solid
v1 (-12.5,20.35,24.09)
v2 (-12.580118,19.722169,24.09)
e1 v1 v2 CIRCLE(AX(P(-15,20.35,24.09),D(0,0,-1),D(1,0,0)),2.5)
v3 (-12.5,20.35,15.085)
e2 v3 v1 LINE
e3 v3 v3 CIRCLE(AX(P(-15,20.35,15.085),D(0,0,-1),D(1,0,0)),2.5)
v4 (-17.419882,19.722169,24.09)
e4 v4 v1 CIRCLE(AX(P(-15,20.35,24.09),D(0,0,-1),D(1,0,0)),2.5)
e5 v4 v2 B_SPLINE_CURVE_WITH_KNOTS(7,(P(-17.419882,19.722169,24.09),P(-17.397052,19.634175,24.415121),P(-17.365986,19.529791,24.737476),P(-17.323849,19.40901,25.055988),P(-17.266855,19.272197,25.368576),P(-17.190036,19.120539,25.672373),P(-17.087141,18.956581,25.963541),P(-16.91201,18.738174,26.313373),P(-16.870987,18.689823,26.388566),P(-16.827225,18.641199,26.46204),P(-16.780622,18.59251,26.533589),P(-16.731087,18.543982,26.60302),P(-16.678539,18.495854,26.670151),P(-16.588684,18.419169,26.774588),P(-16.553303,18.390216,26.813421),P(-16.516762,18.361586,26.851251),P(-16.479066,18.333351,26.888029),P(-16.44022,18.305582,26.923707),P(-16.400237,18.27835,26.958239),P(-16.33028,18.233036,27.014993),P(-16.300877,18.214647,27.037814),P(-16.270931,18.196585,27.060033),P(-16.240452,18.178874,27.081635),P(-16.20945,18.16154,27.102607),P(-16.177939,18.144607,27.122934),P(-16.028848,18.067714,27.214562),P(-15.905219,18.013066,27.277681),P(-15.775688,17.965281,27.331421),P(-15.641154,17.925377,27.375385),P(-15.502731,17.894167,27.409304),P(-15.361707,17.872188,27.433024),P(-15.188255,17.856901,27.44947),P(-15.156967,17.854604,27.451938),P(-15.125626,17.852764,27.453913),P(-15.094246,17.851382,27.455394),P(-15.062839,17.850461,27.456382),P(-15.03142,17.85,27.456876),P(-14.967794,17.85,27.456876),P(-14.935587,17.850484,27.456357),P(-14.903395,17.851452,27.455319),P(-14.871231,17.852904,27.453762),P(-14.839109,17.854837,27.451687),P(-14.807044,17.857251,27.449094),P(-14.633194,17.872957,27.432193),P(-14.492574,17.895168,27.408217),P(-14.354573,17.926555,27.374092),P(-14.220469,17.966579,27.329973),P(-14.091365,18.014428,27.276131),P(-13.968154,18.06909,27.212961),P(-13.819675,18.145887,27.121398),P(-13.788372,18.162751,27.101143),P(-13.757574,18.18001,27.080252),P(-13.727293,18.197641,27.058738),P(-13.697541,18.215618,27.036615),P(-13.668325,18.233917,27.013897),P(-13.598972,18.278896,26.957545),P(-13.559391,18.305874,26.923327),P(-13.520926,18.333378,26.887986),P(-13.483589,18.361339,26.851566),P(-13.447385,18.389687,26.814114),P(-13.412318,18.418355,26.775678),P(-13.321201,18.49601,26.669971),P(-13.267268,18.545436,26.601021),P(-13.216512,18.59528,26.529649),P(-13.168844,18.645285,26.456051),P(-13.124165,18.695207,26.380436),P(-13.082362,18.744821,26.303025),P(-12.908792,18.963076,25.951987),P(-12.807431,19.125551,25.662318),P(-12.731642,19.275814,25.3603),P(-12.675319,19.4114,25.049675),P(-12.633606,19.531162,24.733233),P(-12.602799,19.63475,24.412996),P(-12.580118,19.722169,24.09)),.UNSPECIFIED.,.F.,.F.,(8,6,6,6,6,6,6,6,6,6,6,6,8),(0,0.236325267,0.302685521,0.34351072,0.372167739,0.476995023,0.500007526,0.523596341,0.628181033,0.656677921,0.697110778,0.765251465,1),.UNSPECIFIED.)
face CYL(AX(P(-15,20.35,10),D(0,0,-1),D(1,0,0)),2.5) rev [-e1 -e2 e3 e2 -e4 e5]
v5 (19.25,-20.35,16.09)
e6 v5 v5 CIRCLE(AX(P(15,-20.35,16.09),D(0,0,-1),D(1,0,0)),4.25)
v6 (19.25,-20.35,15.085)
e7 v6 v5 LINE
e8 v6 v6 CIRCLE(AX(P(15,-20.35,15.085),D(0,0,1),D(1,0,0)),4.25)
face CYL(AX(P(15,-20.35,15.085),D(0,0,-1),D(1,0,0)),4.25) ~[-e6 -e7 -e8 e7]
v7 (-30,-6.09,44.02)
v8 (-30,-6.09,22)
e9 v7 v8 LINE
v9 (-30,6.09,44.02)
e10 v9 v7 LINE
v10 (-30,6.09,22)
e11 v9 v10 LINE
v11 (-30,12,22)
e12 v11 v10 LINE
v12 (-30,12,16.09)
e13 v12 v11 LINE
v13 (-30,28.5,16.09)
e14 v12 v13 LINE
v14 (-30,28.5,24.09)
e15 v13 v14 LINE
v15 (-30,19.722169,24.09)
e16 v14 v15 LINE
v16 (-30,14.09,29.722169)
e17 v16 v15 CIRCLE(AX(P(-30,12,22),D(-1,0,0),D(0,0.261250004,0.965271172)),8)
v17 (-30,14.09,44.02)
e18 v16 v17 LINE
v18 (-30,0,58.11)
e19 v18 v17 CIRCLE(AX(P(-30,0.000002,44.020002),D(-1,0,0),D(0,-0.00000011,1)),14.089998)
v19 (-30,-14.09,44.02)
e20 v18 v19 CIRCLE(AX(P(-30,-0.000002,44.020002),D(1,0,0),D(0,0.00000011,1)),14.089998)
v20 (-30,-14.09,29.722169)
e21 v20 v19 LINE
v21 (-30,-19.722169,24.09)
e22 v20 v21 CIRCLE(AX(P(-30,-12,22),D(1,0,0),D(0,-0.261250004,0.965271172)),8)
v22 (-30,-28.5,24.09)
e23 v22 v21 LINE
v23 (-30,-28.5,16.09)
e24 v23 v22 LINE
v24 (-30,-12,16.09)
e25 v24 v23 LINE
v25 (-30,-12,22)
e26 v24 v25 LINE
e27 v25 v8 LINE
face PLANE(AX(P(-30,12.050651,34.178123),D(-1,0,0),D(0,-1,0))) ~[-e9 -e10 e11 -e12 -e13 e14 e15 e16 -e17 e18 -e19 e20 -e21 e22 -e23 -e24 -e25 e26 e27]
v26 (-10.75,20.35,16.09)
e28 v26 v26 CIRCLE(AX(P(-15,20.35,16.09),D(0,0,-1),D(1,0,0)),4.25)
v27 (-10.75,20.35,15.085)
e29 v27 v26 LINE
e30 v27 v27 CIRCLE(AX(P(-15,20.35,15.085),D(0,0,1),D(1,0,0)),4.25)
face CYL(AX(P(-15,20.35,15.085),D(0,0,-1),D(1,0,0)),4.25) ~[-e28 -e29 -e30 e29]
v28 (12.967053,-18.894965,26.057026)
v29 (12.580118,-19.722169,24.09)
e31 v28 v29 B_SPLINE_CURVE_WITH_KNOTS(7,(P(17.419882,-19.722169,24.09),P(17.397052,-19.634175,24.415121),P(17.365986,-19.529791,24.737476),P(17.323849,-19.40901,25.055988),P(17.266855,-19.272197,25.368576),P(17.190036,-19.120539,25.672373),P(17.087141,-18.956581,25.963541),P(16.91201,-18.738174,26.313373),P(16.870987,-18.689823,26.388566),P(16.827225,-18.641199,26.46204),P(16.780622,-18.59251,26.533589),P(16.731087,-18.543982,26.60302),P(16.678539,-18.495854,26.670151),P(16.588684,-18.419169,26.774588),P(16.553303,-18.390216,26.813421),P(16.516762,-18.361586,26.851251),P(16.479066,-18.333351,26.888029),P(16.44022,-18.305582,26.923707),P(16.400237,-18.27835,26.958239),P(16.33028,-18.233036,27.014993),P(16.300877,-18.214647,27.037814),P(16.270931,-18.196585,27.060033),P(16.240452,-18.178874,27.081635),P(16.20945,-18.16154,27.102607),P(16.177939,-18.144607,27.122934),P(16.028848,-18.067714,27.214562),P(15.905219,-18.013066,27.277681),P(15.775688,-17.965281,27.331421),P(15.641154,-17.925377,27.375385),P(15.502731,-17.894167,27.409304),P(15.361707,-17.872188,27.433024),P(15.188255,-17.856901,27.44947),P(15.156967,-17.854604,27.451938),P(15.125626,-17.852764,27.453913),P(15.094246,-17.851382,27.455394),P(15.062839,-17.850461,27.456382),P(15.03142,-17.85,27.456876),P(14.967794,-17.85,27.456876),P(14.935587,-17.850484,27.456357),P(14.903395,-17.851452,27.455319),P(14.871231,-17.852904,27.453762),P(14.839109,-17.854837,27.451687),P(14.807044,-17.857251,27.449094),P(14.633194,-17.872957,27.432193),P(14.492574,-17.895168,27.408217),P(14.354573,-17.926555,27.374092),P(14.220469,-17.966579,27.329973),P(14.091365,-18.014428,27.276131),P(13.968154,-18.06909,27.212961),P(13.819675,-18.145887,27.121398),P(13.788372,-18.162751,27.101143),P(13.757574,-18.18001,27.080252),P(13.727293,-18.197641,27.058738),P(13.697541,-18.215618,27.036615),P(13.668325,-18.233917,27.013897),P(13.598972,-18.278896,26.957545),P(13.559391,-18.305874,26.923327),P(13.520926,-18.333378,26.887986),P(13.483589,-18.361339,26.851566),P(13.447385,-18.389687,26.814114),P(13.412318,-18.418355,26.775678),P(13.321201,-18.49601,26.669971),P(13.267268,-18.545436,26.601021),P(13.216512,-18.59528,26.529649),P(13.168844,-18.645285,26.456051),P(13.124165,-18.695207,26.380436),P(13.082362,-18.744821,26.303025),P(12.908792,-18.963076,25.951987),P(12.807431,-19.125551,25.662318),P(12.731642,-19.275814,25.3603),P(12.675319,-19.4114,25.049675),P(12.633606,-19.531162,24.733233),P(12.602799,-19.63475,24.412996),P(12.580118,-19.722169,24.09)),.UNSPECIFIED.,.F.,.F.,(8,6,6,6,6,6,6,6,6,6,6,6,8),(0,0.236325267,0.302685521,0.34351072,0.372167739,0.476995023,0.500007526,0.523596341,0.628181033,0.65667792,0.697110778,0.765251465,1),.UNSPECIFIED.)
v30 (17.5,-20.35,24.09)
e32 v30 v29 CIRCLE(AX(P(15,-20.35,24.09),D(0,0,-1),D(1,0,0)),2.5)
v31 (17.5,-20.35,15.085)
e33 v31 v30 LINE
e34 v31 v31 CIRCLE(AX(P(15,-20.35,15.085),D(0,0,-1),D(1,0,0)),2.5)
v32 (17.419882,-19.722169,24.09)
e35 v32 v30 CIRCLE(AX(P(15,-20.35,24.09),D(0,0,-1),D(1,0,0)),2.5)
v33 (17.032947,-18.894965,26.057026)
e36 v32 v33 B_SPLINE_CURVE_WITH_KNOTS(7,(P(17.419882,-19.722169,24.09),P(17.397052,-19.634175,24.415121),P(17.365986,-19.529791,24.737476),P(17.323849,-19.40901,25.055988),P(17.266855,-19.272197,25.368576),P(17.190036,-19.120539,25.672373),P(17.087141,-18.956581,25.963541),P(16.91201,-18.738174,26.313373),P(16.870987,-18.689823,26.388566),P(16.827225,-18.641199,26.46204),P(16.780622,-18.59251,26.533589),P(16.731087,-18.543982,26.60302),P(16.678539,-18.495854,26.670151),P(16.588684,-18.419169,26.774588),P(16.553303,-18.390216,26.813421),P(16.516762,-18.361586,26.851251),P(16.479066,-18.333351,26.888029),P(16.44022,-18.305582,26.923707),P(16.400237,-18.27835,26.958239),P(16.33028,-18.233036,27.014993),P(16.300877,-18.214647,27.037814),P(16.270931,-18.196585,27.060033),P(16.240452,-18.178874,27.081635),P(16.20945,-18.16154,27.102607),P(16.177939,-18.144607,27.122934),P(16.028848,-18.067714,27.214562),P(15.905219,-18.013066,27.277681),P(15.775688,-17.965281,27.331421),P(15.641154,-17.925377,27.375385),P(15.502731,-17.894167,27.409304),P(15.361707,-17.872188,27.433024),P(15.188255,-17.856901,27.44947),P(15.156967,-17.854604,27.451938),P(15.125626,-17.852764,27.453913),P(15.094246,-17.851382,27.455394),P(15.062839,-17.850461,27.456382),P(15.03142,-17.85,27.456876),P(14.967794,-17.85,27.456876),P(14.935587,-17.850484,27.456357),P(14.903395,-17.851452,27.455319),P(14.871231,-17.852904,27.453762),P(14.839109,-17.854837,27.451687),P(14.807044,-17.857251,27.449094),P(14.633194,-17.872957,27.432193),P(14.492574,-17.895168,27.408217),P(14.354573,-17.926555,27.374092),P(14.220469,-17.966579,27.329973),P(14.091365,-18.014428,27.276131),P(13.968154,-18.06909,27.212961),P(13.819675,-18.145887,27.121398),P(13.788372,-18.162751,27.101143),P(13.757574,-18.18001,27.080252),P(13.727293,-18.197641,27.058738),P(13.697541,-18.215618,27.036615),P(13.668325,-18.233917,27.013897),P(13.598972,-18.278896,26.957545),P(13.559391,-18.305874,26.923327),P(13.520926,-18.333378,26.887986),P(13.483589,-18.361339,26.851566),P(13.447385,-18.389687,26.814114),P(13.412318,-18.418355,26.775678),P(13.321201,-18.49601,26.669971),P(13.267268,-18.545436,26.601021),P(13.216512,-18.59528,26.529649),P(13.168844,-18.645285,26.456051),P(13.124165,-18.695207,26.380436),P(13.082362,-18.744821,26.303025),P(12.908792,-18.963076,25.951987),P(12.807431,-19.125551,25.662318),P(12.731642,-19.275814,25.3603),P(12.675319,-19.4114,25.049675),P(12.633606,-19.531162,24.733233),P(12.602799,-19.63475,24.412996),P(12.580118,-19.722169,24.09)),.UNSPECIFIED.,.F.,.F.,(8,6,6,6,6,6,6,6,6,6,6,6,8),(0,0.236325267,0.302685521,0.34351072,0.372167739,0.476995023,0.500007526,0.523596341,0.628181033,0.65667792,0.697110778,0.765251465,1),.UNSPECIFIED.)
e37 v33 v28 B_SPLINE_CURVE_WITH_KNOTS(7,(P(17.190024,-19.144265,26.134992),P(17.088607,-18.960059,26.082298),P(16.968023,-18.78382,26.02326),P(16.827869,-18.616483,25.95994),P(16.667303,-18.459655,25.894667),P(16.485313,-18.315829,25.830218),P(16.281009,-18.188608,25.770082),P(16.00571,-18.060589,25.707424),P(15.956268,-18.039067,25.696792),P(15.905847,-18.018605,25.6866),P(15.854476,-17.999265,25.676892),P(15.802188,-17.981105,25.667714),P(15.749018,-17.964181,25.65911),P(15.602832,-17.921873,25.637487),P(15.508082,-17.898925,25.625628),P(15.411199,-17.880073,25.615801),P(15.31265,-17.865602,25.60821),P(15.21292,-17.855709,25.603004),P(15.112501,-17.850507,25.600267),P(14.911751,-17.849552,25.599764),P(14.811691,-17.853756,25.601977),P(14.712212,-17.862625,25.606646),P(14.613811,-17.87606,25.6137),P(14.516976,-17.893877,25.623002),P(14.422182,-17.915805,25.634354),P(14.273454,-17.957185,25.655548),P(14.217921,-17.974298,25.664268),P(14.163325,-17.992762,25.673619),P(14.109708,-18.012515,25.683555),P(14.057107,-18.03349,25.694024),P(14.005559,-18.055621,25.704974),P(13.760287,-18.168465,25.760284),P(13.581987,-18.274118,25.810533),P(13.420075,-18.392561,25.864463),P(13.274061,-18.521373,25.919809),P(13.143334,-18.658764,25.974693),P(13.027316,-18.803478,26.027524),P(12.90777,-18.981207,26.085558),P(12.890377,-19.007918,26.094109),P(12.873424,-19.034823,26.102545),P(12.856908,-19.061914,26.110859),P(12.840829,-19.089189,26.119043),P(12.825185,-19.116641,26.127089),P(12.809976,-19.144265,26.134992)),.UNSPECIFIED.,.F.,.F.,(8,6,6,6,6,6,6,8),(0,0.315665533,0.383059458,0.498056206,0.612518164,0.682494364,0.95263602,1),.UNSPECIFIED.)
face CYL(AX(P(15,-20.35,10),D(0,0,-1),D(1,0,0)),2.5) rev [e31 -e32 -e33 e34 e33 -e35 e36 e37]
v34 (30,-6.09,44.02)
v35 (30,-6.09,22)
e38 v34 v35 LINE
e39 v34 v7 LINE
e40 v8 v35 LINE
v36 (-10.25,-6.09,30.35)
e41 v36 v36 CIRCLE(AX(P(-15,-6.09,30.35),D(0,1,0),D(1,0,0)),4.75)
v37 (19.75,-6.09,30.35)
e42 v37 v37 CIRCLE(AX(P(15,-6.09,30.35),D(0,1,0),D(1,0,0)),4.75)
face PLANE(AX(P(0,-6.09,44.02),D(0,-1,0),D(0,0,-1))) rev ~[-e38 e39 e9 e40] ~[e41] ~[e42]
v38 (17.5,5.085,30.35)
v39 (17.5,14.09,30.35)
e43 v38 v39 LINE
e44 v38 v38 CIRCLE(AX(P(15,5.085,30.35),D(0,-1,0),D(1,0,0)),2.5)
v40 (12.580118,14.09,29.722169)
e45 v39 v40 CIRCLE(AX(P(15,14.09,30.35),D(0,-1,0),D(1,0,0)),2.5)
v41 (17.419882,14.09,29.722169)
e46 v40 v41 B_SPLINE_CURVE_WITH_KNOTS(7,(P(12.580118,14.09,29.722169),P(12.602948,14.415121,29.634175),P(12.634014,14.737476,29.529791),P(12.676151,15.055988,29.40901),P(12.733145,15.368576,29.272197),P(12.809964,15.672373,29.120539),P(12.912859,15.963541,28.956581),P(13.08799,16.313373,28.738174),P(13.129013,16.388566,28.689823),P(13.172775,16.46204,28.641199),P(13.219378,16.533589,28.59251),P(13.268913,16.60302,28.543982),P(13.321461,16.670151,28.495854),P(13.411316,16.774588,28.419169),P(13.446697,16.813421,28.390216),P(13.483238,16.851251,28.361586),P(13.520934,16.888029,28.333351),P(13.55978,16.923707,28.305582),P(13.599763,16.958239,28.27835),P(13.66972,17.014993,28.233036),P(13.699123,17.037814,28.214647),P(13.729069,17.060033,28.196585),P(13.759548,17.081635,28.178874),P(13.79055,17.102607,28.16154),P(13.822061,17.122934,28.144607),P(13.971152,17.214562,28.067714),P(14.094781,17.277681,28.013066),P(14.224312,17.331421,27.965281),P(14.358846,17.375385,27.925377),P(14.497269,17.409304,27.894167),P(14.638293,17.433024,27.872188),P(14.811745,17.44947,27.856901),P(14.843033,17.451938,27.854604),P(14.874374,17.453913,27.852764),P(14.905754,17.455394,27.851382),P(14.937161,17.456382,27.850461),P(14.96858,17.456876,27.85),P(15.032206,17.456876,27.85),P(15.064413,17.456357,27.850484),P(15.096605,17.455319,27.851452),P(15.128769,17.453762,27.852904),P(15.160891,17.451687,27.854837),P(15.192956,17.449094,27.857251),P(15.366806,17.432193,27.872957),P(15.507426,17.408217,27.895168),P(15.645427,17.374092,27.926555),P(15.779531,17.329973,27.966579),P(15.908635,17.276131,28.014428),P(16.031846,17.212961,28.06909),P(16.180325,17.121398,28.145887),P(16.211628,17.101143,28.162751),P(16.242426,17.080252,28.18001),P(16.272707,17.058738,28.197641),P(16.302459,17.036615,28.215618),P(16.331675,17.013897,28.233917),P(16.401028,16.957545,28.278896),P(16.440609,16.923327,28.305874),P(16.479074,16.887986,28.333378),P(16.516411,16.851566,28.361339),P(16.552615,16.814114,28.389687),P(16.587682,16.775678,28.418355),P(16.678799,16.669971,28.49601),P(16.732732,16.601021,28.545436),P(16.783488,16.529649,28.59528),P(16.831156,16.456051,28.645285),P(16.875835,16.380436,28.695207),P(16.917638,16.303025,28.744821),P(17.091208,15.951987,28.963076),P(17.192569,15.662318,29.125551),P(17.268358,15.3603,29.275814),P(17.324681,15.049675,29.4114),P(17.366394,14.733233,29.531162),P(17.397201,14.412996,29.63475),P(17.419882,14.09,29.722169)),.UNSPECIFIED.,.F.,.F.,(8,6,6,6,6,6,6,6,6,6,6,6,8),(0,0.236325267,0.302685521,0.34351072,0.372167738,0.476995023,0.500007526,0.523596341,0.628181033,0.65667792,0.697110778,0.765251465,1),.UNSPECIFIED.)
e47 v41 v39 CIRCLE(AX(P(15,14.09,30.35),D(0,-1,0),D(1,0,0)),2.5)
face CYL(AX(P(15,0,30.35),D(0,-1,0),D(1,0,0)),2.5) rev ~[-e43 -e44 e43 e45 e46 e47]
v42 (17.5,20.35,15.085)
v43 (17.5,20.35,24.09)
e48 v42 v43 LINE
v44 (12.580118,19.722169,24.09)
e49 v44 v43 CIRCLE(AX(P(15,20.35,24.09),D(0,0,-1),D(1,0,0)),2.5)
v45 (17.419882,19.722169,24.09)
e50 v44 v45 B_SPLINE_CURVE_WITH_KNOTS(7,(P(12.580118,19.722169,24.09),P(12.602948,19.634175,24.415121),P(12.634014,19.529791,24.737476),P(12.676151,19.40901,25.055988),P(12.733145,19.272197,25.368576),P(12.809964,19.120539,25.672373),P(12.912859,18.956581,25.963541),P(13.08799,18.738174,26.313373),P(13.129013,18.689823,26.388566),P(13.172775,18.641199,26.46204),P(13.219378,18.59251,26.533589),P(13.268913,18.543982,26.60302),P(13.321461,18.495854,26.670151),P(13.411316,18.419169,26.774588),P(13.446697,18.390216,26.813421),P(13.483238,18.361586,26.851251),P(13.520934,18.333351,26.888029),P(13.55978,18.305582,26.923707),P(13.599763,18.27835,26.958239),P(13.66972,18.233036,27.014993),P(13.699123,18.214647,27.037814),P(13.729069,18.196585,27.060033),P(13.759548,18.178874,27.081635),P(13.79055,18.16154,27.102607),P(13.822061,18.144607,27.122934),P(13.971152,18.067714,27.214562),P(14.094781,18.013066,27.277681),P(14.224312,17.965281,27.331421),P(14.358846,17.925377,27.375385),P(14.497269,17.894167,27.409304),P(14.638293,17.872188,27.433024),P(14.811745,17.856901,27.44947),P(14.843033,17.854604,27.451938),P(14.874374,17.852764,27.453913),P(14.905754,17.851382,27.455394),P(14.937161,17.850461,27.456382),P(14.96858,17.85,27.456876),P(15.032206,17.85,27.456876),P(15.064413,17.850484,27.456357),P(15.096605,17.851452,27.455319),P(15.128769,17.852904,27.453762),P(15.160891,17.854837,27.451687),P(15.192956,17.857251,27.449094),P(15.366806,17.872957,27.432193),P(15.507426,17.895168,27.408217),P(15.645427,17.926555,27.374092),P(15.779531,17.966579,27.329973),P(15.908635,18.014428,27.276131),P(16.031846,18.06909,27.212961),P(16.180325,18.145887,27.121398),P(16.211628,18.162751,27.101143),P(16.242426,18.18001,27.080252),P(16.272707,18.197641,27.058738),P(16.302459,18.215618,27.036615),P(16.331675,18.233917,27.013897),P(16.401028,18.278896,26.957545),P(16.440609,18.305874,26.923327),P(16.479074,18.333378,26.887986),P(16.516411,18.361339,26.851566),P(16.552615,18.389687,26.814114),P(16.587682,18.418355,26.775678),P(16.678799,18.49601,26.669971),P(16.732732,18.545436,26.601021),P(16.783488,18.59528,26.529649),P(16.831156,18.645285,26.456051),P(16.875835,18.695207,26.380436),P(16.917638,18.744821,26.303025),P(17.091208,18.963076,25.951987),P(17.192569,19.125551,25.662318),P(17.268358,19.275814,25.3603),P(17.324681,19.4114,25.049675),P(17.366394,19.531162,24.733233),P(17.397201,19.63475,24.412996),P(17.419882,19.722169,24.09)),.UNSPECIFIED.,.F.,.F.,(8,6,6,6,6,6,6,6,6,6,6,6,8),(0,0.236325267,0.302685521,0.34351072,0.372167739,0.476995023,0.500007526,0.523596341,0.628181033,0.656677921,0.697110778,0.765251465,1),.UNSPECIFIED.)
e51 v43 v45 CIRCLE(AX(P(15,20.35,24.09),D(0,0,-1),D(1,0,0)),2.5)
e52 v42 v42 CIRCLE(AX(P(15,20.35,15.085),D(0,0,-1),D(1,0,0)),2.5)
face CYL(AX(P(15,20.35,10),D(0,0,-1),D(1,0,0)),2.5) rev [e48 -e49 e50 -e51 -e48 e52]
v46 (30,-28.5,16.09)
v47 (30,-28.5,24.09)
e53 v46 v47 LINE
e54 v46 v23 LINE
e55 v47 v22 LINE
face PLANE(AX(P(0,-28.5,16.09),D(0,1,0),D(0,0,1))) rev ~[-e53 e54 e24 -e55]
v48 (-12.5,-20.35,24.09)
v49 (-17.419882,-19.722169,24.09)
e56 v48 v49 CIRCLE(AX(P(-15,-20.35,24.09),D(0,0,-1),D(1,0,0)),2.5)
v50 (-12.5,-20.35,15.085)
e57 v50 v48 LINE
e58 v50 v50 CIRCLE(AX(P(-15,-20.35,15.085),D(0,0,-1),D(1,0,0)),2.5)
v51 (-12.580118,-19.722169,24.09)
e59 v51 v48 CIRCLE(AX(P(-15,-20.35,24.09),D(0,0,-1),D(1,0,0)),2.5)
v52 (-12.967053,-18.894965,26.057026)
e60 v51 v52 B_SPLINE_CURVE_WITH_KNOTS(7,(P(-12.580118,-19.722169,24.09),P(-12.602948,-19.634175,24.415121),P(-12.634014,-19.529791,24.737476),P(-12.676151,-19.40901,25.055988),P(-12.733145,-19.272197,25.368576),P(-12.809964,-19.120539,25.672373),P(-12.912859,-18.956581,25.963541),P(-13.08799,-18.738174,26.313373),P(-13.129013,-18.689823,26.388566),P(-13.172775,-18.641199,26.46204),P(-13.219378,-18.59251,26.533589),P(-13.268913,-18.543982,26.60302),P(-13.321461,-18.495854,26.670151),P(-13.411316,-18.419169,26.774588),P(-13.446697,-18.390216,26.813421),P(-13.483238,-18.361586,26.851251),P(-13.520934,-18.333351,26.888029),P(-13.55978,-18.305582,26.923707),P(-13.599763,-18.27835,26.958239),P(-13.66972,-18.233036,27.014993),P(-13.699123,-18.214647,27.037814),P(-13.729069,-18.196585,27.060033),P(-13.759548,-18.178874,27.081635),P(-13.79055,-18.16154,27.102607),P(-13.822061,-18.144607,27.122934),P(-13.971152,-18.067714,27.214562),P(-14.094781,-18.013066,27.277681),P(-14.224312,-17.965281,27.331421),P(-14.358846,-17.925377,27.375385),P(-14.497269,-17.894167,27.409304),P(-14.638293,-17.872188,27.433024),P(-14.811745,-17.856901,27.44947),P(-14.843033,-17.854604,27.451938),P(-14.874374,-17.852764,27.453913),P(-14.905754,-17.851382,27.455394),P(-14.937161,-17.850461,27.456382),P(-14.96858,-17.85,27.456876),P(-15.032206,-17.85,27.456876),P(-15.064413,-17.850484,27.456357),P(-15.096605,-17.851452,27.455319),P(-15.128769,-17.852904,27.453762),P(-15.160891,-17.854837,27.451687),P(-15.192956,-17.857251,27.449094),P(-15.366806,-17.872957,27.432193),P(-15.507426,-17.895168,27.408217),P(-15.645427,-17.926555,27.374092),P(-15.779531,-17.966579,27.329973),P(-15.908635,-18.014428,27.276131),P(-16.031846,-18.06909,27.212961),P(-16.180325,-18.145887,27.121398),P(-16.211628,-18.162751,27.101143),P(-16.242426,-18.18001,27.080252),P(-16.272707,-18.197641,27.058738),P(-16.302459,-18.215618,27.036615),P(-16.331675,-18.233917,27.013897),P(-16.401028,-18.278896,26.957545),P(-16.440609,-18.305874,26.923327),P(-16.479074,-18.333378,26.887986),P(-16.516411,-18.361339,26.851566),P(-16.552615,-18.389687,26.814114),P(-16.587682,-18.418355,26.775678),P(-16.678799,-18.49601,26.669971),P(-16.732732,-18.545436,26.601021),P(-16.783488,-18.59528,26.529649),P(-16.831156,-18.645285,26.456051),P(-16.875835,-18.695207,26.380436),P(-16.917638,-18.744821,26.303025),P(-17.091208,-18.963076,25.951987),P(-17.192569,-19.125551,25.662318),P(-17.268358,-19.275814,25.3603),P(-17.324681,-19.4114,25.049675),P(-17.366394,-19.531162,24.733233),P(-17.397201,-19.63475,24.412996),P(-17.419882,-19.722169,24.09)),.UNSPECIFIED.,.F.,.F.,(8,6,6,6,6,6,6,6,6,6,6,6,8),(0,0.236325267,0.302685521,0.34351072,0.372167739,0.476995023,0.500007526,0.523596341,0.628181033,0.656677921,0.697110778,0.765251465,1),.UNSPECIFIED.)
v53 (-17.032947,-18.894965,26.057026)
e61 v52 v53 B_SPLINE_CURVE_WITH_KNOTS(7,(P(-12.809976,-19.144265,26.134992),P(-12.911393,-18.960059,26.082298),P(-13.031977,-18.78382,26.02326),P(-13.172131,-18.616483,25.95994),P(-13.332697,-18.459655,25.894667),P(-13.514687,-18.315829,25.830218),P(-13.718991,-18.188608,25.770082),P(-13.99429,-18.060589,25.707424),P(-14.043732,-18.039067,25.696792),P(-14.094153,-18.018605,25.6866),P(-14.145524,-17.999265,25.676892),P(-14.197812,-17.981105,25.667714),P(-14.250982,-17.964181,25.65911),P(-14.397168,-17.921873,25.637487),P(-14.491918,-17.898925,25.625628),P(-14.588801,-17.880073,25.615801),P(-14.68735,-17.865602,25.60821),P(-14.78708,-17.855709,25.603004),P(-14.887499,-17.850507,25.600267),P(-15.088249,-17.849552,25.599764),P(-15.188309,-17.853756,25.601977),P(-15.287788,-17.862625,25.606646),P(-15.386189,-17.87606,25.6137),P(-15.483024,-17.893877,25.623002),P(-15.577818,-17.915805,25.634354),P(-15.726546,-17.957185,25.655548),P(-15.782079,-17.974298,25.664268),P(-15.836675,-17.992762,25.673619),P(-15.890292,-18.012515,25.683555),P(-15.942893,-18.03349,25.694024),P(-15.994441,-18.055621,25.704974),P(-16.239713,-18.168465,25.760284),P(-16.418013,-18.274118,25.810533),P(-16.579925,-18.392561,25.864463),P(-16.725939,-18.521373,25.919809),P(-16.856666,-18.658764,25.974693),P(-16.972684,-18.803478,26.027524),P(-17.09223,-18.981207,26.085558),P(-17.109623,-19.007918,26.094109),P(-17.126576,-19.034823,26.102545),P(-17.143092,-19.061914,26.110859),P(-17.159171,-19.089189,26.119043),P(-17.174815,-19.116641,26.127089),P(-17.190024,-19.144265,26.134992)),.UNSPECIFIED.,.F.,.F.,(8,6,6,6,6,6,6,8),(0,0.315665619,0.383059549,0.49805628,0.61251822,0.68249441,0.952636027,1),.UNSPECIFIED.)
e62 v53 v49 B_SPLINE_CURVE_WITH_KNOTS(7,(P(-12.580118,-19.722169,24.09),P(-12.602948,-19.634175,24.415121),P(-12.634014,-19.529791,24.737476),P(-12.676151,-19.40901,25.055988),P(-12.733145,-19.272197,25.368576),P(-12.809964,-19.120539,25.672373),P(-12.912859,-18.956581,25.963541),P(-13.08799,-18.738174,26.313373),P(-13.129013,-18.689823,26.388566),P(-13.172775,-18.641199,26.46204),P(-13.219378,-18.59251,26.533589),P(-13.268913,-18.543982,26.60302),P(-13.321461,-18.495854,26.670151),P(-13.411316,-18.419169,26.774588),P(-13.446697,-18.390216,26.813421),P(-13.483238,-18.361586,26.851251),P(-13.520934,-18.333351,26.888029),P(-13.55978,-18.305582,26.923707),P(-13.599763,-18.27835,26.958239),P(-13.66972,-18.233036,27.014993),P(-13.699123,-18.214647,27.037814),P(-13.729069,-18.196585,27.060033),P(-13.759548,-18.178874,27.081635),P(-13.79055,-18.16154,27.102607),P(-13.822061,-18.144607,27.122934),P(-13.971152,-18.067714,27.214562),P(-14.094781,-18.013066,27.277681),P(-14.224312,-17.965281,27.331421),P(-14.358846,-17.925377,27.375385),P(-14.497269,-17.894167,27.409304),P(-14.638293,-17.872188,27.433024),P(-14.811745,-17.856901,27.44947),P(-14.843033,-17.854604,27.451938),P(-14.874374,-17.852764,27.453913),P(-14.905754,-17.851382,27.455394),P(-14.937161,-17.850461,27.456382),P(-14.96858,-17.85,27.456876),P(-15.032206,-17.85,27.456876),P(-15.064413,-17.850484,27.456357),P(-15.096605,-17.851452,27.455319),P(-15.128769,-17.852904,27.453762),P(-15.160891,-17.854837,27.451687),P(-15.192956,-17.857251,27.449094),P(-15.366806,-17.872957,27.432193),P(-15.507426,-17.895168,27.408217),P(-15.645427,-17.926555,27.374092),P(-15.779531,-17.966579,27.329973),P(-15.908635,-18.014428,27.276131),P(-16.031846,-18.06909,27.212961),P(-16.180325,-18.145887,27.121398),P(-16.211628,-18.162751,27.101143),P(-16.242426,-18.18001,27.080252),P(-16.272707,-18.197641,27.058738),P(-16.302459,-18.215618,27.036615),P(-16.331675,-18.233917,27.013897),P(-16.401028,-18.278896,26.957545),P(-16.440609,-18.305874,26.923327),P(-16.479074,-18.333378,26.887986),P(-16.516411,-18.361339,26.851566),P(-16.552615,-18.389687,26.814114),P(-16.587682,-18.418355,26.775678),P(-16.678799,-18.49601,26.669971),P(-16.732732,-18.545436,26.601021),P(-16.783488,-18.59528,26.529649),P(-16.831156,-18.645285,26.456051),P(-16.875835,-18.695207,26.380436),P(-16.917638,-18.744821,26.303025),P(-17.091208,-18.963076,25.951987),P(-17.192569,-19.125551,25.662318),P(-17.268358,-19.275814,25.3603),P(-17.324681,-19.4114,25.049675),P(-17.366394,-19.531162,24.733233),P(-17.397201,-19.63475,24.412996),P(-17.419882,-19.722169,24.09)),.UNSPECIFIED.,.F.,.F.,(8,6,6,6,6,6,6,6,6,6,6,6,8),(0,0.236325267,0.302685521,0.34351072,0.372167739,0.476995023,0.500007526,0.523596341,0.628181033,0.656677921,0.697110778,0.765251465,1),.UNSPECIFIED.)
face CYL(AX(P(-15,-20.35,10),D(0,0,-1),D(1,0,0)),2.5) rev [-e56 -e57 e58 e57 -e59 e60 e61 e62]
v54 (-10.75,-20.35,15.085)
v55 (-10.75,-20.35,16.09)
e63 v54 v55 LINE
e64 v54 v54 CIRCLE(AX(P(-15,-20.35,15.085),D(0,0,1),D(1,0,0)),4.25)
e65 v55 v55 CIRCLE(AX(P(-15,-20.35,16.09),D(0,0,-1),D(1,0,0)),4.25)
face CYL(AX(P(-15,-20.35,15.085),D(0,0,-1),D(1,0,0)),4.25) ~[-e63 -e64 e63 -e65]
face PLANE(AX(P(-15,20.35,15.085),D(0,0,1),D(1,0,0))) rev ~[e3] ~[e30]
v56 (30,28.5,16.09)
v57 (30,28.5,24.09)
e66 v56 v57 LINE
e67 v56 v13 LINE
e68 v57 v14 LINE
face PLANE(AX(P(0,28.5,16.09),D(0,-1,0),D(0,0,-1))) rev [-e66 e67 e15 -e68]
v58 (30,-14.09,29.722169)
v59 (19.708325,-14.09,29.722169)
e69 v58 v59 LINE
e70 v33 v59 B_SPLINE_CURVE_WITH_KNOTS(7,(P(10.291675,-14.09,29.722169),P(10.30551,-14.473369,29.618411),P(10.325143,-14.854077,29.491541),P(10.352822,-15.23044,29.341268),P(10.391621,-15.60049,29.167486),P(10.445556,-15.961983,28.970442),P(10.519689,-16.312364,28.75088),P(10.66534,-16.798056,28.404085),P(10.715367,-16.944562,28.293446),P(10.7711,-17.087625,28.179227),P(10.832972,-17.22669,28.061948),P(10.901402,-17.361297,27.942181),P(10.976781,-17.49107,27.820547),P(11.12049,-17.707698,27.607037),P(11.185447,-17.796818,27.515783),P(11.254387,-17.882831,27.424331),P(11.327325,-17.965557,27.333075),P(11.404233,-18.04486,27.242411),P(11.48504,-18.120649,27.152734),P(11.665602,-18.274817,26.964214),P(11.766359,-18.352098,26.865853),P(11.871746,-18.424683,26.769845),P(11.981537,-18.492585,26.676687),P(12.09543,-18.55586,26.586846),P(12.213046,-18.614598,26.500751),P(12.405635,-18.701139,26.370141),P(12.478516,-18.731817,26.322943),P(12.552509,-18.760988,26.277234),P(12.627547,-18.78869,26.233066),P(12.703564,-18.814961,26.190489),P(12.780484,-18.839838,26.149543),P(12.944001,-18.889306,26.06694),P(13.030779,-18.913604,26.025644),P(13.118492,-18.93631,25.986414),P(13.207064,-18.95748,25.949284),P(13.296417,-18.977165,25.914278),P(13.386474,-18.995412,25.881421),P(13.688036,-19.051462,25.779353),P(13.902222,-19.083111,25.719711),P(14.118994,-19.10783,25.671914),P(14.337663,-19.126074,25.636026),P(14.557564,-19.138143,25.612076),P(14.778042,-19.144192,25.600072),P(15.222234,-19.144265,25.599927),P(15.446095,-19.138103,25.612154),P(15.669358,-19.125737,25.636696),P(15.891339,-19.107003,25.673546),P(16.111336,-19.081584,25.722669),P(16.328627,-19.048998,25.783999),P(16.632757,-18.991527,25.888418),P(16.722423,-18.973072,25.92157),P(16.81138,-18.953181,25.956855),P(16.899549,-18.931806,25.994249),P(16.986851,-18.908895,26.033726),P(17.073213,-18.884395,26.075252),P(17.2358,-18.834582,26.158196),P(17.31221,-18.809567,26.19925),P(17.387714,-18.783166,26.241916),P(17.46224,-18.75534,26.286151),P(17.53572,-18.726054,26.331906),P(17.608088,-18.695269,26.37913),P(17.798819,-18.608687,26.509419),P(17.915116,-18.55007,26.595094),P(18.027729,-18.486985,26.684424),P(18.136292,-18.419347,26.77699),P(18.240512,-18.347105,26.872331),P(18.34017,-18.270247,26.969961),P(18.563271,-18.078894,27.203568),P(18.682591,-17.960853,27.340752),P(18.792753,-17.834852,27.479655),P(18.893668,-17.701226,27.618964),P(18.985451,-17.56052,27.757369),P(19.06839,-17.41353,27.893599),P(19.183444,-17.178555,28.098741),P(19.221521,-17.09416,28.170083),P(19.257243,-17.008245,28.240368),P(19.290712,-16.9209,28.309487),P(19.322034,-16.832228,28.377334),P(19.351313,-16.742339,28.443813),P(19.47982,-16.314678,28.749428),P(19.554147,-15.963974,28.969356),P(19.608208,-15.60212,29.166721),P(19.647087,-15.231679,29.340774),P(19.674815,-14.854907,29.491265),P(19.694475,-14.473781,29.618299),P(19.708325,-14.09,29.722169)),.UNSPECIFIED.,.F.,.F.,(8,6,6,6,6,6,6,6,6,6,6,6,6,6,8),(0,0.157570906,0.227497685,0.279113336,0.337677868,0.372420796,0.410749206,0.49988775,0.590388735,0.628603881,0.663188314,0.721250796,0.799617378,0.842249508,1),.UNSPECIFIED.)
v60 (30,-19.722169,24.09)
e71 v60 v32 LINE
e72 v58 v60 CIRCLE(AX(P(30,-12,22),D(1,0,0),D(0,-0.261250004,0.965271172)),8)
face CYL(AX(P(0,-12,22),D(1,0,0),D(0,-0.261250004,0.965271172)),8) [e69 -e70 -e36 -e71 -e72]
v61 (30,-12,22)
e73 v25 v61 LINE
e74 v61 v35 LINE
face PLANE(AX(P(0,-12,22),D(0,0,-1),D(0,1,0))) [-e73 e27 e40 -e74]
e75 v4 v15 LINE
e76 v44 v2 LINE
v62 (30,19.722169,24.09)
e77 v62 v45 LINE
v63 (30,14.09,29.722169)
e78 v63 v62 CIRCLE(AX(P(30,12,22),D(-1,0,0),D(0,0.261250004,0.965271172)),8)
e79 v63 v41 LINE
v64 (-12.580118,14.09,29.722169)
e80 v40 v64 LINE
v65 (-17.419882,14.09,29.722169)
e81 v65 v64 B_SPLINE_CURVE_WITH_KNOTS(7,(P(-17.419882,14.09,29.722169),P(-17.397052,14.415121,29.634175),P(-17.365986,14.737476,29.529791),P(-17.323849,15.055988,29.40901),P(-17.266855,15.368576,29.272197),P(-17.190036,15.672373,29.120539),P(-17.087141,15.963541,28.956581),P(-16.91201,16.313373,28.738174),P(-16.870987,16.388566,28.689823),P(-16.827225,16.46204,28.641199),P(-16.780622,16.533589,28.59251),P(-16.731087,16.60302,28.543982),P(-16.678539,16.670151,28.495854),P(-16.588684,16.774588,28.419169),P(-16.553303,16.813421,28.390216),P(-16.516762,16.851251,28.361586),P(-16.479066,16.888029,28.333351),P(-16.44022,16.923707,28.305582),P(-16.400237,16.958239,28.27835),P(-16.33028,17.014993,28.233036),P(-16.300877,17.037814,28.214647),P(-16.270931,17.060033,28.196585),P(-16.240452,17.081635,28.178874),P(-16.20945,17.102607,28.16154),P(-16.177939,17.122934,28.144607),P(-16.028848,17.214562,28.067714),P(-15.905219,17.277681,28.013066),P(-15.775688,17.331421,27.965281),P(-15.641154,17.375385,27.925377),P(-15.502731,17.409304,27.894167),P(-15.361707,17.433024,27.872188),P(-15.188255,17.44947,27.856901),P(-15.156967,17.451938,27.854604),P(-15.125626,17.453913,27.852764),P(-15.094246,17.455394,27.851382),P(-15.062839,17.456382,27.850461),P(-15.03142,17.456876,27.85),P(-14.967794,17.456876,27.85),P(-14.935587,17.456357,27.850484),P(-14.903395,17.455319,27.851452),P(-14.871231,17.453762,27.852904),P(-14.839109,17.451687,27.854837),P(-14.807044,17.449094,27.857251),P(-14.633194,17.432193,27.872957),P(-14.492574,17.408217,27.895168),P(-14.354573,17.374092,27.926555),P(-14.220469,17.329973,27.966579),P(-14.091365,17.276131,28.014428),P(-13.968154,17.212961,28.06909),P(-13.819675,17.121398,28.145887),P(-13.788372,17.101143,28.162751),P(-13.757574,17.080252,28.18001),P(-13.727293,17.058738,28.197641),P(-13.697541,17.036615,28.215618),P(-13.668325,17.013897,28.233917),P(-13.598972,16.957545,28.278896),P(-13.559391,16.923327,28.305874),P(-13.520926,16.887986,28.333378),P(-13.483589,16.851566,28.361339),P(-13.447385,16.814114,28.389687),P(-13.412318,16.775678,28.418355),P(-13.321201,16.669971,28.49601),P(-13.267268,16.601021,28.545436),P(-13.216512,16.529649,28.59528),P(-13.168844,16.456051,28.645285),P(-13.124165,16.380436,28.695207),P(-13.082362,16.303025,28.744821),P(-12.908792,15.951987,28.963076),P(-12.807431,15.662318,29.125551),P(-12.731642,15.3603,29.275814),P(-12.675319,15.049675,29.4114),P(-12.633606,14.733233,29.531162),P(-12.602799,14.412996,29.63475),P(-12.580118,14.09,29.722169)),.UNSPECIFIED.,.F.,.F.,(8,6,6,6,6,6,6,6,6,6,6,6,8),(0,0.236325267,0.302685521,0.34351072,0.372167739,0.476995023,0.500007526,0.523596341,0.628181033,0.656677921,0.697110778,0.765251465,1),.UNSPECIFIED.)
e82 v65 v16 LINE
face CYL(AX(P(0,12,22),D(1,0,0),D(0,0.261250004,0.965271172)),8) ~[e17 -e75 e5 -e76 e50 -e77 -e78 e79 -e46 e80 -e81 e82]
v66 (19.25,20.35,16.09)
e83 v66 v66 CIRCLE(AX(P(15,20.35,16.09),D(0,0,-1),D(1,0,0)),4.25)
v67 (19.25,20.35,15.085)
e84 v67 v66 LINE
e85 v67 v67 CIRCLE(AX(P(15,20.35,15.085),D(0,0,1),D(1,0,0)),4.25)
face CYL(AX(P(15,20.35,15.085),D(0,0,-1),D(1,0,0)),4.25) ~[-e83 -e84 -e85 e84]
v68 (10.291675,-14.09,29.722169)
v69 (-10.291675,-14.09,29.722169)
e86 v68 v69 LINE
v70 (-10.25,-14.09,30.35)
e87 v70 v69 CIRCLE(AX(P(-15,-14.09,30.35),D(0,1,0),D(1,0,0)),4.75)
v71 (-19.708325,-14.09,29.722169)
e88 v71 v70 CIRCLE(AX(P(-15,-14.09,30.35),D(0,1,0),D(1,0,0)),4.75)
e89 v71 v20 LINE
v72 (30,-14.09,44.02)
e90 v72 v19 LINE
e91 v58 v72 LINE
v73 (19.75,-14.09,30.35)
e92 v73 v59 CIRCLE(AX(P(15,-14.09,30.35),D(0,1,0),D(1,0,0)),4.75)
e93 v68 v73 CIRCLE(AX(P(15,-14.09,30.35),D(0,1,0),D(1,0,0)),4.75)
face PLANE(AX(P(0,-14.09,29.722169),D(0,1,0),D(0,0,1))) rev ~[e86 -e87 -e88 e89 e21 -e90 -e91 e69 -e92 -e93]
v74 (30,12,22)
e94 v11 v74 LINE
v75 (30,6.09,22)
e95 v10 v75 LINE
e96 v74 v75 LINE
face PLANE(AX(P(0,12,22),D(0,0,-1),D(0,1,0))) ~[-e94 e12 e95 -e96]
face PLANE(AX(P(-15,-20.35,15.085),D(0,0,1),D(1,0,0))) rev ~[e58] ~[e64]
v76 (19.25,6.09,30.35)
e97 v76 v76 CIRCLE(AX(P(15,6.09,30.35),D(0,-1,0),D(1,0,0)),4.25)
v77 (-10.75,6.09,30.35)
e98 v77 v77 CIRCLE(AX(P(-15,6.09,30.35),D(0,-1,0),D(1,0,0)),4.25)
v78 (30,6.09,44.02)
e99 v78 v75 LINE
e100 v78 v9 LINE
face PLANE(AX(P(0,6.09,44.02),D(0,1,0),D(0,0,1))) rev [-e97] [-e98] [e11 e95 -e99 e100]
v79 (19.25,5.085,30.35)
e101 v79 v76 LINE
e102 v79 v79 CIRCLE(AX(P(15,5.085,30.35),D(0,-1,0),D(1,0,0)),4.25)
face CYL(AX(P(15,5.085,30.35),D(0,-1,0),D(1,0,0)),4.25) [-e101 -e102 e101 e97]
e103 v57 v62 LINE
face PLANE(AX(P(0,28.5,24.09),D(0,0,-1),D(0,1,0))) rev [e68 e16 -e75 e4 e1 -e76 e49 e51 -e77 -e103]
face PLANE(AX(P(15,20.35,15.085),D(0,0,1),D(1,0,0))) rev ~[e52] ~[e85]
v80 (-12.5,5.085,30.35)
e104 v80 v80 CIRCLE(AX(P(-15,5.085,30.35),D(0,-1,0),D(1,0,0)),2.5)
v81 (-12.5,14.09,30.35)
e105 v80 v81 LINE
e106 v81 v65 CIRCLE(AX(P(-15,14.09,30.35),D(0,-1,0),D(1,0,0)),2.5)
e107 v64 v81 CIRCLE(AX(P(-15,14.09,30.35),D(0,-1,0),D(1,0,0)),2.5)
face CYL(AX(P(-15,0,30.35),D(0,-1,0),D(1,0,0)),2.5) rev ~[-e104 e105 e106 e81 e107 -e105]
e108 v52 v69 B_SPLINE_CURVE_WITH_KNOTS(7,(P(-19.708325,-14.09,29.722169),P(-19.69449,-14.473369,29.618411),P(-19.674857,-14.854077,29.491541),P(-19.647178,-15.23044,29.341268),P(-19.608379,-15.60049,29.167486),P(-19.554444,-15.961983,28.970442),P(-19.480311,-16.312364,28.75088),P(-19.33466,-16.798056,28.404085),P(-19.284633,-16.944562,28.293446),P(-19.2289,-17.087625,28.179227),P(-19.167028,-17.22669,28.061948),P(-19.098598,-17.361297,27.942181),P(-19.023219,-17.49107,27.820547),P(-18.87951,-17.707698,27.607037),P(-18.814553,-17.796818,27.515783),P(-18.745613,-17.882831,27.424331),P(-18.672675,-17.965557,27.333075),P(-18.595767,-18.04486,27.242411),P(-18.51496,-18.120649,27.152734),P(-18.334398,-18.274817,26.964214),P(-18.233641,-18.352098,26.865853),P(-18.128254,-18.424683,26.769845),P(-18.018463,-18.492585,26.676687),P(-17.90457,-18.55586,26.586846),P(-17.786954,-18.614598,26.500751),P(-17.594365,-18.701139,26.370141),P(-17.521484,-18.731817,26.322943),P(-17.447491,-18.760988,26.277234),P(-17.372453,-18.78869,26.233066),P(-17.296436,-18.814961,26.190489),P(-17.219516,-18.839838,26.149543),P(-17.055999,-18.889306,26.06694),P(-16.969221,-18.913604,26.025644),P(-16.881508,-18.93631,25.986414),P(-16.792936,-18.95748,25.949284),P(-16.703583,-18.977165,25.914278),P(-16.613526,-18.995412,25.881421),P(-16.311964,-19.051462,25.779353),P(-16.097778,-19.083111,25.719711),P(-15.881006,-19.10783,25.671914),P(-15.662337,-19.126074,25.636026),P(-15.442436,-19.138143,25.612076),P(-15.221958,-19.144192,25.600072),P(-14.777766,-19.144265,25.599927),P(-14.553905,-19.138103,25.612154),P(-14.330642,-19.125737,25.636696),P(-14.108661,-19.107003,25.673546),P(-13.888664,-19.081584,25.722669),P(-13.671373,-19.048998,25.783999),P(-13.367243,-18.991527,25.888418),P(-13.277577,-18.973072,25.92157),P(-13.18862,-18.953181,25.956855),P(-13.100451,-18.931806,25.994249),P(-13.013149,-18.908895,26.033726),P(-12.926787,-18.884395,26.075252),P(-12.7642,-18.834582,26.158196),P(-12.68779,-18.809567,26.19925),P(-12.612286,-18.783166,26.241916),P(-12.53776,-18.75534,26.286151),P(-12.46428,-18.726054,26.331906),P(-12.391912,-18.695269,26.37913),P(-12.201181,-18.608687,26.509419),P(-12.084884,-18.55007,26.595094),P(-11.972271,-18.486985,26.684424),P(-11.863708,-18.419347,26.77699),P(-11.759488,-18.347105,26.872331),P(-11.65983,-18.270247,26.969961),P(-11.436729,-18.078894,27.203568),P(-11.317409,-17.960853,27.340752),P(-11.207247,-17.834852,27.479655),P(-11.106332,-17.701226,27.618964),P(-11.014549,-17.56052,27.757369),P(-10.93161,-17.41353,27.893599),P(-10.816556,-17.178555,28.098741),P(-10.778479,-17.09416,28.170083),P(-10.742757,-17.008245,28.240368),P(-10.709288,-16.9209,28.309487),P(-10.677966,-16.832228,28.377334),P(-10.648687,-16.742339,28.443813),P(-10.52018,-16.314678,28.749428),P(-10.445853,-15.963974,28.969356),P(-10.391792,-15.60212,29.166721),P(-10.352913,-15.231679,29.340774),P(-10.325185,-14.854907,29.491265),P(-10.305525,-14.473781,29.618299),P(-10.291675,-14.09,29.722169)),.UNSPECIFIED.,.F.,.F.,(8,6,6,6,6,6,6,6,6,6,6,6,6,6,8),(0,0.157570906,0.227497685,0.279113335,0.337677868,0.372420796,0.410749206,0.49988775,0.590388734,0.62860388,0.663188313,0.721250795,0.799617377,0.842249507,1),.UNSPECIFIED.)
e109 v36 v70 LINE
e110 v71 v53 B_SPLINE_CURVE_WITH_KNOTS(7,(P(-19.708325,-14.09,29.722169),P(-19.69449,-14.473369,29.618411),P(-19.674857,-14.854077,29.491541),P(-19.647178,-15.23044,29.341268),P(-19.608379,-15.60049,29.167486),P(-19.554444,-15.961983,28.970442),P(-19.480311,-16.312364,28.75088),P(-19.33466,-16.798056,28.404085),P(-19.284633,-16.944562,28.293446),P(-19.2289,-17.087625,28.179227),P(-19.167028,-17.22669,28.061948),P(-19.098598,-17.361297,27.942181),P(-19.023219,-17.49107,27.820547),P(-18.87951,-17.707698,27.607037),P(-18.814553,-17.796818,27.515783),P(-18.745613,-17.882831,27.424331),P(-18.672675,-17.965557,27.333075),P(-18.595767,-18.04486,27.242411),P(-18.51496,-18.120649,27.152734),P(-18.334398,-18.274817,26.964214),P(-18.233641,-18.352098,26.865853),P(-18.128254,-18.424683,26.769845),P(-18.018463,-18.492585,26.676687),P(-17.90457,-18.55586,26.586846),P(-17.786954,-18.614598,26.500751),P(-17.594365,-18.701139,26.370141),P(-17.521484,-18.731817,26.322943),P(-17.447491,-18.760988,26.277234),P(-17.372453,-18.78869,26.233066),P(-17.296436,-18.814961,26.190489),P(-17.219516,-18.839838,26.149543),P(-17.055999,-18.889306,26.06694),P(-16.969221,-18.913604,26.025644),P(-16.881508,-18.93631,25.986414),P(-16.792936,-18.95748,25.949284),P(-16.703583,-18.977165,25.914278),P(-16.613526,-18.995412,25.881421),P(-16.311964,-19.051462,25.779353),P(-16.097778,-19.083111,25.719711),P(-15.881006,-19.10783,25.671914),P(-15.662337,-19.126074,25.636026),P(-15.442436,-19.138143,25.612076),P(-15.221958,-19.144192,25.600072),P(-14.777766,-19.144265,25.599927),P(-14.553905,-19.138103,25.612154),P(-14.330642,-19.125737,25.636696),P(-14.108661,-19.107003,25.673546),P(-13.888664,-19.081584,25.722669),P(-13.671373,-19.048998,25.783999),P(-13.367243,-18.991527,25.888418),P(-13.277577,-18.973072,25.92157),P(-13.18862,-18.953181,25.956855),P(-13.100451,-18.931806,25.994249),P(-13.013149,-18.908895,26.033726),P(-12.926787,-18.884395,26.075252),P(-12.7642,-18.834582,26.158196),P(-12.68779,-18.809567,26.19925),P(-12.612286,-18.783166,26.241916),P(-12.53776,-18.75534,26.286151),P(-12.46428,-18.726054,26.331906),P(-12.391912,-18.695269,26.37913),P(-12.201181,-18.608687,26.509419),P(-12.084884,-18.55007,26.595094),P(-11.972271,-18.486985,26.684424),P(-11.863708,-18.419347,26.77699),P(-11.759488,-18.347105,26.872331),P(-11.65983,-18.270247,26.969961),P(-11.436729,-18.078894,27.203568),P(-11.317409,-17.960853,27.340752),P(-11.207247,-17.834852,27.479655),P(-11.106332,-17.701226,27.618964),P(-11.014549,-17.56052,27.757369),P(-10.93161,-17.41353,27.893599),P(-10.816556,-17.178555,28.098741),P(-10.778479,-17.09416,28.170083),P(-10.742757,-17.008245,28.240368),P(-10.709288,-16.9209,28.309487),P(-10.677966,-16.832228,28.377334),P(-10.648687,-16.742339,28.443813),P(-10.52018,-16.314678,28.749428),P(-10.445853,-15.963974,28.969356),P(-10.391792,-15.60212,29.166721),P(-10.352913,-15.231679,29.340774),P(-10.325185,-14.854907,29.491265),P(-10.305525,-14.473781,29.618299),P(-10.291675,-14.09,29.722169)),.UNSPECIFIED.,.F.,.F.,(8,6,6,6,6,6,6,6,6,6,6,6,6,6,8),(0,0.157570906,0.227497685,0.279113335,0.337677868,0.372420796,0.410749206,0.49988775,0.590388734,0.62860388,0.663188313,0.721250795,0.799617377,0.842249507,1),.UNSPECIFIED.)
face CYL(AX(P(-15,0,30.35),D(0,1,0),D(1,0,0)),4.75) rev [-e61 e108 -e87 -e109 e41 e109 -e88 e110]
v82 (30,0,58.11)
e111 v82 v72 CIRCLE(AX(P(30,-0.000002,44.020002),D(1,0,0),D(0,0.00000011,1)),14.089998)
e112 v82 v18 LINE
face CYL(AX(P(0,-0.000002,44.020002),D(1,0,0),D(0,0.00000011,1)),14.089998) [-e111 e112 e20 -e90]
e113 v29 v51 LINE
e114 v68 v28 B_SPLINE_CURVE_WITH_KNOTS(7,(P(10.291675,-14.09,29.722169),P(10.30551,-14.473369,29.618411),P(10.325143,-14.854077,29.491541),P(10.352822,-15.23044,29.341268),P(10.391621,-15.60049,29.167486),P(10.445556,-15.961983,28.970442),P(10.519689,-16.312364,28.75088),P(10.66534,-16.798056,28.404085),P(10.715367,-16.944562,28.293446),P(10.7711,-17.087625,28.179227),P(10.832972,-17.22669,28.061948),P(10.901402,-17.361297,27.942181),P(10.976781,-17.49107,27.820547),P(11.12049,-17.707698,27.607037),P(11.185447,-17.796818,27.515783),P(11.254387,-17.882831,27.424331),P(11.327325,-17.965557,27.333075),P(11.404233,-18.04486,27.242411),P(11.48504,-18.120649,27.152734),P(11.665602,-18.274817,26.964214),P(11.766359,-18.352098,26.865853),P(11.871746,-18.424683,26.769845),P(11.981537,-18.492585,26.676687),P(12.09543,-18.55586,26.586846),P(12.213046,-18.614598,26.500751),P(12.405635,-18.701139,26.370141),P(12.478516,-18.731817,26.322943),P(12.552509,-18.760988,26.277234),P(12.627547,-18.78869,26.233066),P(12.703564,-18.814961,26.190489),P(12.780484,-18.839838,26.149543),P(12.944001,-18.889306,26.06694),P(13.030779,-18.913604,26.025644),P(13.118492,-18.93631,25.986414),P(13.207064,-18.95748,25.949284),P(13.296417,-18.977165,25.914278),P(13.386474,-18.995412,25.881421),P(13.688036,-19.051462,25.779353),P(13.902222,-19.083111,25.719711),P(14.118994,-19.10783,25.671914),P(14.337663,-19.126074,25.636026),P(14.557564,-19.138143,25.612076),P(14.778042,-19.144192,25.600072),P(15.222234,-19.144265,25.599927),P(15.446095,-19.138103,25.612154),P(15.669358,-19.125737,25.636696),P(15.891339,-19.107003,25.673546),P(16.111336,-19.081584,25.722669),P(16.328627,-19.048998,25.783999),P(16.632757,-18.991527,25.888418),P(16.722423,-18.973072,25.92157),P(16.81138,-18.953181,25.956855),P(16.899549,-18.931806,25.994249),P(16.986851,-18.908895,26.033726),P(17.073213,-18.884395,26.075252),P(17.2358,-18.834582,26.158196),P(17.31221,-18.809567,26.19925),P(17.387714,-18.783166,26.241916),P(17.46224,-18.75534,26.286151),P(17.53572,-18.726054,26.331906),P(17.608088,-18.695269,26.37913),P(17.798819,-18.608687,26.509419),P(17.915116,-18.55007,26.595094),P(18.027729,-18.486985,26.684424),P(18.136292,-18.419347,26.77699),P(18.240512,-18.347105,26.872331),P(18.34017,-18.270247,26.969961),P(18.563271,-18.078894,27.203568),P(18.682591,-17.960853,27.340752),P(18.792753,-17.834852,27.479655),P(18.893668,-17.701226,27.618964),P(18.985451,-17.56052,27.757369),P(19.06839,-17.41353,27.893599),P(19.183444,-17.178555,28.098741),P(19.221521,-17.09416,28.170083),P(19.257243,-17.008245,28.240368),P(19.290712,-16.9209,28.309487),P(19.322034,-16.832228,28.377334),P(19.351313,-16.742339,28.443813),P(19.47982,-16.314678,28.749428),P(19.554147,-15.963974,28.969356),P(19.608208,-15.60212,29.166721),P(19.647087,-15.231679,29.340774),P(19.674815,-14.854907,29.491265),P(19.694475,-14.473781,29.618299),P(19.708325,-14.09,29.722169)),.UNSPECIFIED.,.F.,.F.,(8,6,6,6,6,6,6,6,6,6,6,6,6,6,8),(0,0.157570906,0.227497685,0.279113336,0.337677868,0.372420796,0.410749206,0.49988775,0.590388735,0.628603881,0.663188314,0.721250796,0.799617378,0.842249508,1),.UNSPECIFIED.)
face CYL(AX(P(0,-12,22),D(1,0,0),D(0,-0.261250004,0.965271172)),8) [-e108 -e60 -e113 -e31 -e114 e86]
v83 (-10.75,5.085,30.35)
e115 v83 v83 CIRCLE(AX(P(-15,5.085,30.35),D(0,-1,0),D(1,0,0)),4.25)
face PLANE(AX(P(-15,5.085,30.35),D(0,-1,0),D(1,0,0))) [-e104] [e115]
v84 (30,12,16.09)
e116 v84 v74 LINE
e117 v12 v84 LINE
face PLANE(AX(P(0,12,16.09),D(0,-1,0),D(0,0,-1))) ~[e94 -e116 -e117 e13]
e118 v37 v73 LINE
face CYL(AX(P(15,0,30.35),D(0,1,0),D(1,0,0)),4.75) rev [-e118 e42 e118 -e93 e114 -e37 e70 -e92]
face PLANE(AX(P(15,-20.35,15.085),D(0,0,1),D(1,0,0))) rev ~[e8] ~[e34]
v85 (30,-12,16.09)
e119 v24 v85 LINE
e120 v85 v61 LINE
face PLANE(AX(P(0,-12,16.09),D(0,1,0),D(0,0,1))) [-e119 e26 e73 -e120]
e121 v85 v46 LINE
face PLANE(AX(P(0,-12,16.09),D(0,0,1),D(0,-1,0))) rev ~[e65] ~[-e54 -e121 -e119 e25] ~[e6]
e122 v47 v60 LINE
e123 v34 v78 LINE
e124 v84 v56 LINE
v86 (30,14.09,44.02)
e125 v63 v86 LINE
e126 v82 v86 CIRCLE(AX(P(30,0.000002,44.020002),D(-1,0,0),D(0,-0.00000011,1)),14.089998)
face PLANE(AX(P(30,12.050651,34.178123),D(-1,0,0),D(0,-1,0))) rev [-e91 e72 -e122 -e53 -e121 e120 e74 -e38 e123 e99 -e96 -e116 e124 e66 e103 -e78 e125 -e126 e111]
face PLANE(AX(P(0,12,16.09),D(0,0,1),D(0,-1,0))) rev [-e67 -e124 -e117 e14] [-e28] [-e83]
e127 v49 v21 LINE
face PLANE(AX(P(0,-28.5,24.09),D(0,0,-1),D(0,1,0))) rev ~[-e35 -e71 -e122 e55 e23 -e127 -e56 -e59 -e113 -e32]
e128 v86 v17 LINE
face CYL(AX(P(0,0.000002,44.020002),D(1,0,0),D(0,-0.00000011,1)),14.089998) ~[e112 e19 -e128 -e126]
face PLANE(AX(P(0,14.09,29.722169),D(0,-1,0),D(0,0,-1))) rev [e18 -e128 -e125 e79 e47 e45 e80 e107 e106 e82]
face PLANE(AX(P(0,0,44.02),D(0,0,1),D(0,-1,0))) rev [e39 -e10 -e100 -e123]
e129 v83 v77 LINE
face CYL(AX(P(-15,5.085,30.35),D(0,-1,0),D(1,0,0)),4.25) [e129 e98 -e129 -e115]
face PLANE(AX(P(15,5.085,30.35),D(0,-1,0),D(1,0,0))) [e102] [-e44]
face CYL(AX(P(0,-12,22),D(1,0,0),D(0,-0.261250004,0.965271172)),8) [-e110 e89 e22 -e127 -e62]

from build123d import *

# Parameters (mm, degrees)
PAD003_DEPTH    = 30
SKETCH011_R     = 4.25
PAD004_DEPTH    = 2
SKETCH012_R     = 4.25
PAD005_DEPTH    = 2
SKETCH008_R     = 2.5
POCKET001_DEPTH = 28.501
SKETCH009_R     = 4.75
POCKET002_DEPTH = 28.501
SKETCH010_R     = 2.5
POCKET003_DEPTH = 48.111


with BuildPart() as part:
    # Sketch007 → Pad003 (new body, symmetric)
    with BuildSketch(Plane(origin=(0, 0, 10), x_dir=(0, 1, 0), z_dir=(1, 0, 0))):
        with BuildLine():
            Line((-12, 6.09), (-28.5, 6.09))
            Line((-28.5, 6.09), (-28.5, 14.09))
            Line((-28.5, 14.09), (-19.722169, 14.09))
            ThreePointArc((-14.09, 19.722169), (-17.656854, 17.656854), (-19.722169, 14.09))
            Line((-14.09, 19.722169), (-14.09, 34.02))
            ThreePointArc((0, 48.11), (-9.963135, 43.983135), (-14.09, 34.02))
            Line((0, 48.11), (0, 34.02))
            Line((0, 34.02), (-6.09, 34.02))
            Line((-6.09, 34.02), (-6.09, 12))
            Line((-12, 12), (-6.09, 12))
            Line((-12, 6.09), (-12, 12))
        make_face()
    pad003 = extrude(amount=PAD003_DEPTH, both=True)

    # Mirrored: Pad003 across Sketch007 V_Axis
    add(pad003.mirror(Plane(origin=(0, 0, 10), x_dir=(1, 0, 0), z_dir=(0, 1, 0))))

    # Sketch011 → Pad004 (join)
    with BuildSketch(Plane.XY.offset(15.085)):
        with Locations((-15, 20.35)):
            Circle(SKETCH011_R)
        with Locations((15, 20.35)):
            Circle(SKETCH011_R)
        with Locations((15, -20.35)):
            Circle(SKETCH011_R)
        with Locations((-15, -20.35)):
            Circle(SKETCH011_R)
    extrude(amount=PAD004_DEPTH)

    # Sketch012 → Pad005 (join)
    with BuildSketch(Plane(origin=(0, 5.085, 30.35), x_dir=(1, 0, 0), z_dir=(0, -1, 0))):
        with Locations((-15, 0)):
            Circle(SKETCH012_R)
        with Locations((15, 0)):
            Circle(SKETCH012_R)
    extrude(amount=-PAD005_DEPTH)

    # Sketch008 → Pocket001 (cut, through all)
    with BuildSketch(Plane(origin=(0, 0, 30.35), x_dir=(1, 0, 0), z_dir=(0, -1, 0))):
        with Locations((-15, 0)):
            Circle(SKETCH008_R)
        with Locations((15, 0)):
            Circle(SKETCH008_R)
    extrude(amount=-POCKET001_DEPTH, mode=Mode.SUBTRACT)

    # Sketch009 → Pocket002 (cut, through all)
    with BuildSketch(Plane(origin=(0, 0, 30.35), x_dir=(1, 0, 0), z_dir=(0, -1, 0))):
        with Locations((-15, 0)):
            Circle(SKETCH009_R)
        with Locations((15, 0)):
            Circle(SKETCH009_R)
    extrude(amount=POCKET002_DEPTH, mode=Mode.SUBTRACT)

    # Sketch010 → Pocket003 (cut, through all)
    with BuildSketch(Plane.XY.offset(10)):
        with Locations((-15, 20.35)):
            Circle(SKETCH010_R)
        with Locations((15, 20.35)):
            Circle(SKETCH010_R)
        with Locations((15, -20.35)):
            Circle(SKETCH010_R)
        with Locations((-15, -20.35)):
            Circle(SKETCH010_R)
    extrude(amount=POCKET003_DEPTH, mode=Mode.SUBTRACT)


solid = part.part
